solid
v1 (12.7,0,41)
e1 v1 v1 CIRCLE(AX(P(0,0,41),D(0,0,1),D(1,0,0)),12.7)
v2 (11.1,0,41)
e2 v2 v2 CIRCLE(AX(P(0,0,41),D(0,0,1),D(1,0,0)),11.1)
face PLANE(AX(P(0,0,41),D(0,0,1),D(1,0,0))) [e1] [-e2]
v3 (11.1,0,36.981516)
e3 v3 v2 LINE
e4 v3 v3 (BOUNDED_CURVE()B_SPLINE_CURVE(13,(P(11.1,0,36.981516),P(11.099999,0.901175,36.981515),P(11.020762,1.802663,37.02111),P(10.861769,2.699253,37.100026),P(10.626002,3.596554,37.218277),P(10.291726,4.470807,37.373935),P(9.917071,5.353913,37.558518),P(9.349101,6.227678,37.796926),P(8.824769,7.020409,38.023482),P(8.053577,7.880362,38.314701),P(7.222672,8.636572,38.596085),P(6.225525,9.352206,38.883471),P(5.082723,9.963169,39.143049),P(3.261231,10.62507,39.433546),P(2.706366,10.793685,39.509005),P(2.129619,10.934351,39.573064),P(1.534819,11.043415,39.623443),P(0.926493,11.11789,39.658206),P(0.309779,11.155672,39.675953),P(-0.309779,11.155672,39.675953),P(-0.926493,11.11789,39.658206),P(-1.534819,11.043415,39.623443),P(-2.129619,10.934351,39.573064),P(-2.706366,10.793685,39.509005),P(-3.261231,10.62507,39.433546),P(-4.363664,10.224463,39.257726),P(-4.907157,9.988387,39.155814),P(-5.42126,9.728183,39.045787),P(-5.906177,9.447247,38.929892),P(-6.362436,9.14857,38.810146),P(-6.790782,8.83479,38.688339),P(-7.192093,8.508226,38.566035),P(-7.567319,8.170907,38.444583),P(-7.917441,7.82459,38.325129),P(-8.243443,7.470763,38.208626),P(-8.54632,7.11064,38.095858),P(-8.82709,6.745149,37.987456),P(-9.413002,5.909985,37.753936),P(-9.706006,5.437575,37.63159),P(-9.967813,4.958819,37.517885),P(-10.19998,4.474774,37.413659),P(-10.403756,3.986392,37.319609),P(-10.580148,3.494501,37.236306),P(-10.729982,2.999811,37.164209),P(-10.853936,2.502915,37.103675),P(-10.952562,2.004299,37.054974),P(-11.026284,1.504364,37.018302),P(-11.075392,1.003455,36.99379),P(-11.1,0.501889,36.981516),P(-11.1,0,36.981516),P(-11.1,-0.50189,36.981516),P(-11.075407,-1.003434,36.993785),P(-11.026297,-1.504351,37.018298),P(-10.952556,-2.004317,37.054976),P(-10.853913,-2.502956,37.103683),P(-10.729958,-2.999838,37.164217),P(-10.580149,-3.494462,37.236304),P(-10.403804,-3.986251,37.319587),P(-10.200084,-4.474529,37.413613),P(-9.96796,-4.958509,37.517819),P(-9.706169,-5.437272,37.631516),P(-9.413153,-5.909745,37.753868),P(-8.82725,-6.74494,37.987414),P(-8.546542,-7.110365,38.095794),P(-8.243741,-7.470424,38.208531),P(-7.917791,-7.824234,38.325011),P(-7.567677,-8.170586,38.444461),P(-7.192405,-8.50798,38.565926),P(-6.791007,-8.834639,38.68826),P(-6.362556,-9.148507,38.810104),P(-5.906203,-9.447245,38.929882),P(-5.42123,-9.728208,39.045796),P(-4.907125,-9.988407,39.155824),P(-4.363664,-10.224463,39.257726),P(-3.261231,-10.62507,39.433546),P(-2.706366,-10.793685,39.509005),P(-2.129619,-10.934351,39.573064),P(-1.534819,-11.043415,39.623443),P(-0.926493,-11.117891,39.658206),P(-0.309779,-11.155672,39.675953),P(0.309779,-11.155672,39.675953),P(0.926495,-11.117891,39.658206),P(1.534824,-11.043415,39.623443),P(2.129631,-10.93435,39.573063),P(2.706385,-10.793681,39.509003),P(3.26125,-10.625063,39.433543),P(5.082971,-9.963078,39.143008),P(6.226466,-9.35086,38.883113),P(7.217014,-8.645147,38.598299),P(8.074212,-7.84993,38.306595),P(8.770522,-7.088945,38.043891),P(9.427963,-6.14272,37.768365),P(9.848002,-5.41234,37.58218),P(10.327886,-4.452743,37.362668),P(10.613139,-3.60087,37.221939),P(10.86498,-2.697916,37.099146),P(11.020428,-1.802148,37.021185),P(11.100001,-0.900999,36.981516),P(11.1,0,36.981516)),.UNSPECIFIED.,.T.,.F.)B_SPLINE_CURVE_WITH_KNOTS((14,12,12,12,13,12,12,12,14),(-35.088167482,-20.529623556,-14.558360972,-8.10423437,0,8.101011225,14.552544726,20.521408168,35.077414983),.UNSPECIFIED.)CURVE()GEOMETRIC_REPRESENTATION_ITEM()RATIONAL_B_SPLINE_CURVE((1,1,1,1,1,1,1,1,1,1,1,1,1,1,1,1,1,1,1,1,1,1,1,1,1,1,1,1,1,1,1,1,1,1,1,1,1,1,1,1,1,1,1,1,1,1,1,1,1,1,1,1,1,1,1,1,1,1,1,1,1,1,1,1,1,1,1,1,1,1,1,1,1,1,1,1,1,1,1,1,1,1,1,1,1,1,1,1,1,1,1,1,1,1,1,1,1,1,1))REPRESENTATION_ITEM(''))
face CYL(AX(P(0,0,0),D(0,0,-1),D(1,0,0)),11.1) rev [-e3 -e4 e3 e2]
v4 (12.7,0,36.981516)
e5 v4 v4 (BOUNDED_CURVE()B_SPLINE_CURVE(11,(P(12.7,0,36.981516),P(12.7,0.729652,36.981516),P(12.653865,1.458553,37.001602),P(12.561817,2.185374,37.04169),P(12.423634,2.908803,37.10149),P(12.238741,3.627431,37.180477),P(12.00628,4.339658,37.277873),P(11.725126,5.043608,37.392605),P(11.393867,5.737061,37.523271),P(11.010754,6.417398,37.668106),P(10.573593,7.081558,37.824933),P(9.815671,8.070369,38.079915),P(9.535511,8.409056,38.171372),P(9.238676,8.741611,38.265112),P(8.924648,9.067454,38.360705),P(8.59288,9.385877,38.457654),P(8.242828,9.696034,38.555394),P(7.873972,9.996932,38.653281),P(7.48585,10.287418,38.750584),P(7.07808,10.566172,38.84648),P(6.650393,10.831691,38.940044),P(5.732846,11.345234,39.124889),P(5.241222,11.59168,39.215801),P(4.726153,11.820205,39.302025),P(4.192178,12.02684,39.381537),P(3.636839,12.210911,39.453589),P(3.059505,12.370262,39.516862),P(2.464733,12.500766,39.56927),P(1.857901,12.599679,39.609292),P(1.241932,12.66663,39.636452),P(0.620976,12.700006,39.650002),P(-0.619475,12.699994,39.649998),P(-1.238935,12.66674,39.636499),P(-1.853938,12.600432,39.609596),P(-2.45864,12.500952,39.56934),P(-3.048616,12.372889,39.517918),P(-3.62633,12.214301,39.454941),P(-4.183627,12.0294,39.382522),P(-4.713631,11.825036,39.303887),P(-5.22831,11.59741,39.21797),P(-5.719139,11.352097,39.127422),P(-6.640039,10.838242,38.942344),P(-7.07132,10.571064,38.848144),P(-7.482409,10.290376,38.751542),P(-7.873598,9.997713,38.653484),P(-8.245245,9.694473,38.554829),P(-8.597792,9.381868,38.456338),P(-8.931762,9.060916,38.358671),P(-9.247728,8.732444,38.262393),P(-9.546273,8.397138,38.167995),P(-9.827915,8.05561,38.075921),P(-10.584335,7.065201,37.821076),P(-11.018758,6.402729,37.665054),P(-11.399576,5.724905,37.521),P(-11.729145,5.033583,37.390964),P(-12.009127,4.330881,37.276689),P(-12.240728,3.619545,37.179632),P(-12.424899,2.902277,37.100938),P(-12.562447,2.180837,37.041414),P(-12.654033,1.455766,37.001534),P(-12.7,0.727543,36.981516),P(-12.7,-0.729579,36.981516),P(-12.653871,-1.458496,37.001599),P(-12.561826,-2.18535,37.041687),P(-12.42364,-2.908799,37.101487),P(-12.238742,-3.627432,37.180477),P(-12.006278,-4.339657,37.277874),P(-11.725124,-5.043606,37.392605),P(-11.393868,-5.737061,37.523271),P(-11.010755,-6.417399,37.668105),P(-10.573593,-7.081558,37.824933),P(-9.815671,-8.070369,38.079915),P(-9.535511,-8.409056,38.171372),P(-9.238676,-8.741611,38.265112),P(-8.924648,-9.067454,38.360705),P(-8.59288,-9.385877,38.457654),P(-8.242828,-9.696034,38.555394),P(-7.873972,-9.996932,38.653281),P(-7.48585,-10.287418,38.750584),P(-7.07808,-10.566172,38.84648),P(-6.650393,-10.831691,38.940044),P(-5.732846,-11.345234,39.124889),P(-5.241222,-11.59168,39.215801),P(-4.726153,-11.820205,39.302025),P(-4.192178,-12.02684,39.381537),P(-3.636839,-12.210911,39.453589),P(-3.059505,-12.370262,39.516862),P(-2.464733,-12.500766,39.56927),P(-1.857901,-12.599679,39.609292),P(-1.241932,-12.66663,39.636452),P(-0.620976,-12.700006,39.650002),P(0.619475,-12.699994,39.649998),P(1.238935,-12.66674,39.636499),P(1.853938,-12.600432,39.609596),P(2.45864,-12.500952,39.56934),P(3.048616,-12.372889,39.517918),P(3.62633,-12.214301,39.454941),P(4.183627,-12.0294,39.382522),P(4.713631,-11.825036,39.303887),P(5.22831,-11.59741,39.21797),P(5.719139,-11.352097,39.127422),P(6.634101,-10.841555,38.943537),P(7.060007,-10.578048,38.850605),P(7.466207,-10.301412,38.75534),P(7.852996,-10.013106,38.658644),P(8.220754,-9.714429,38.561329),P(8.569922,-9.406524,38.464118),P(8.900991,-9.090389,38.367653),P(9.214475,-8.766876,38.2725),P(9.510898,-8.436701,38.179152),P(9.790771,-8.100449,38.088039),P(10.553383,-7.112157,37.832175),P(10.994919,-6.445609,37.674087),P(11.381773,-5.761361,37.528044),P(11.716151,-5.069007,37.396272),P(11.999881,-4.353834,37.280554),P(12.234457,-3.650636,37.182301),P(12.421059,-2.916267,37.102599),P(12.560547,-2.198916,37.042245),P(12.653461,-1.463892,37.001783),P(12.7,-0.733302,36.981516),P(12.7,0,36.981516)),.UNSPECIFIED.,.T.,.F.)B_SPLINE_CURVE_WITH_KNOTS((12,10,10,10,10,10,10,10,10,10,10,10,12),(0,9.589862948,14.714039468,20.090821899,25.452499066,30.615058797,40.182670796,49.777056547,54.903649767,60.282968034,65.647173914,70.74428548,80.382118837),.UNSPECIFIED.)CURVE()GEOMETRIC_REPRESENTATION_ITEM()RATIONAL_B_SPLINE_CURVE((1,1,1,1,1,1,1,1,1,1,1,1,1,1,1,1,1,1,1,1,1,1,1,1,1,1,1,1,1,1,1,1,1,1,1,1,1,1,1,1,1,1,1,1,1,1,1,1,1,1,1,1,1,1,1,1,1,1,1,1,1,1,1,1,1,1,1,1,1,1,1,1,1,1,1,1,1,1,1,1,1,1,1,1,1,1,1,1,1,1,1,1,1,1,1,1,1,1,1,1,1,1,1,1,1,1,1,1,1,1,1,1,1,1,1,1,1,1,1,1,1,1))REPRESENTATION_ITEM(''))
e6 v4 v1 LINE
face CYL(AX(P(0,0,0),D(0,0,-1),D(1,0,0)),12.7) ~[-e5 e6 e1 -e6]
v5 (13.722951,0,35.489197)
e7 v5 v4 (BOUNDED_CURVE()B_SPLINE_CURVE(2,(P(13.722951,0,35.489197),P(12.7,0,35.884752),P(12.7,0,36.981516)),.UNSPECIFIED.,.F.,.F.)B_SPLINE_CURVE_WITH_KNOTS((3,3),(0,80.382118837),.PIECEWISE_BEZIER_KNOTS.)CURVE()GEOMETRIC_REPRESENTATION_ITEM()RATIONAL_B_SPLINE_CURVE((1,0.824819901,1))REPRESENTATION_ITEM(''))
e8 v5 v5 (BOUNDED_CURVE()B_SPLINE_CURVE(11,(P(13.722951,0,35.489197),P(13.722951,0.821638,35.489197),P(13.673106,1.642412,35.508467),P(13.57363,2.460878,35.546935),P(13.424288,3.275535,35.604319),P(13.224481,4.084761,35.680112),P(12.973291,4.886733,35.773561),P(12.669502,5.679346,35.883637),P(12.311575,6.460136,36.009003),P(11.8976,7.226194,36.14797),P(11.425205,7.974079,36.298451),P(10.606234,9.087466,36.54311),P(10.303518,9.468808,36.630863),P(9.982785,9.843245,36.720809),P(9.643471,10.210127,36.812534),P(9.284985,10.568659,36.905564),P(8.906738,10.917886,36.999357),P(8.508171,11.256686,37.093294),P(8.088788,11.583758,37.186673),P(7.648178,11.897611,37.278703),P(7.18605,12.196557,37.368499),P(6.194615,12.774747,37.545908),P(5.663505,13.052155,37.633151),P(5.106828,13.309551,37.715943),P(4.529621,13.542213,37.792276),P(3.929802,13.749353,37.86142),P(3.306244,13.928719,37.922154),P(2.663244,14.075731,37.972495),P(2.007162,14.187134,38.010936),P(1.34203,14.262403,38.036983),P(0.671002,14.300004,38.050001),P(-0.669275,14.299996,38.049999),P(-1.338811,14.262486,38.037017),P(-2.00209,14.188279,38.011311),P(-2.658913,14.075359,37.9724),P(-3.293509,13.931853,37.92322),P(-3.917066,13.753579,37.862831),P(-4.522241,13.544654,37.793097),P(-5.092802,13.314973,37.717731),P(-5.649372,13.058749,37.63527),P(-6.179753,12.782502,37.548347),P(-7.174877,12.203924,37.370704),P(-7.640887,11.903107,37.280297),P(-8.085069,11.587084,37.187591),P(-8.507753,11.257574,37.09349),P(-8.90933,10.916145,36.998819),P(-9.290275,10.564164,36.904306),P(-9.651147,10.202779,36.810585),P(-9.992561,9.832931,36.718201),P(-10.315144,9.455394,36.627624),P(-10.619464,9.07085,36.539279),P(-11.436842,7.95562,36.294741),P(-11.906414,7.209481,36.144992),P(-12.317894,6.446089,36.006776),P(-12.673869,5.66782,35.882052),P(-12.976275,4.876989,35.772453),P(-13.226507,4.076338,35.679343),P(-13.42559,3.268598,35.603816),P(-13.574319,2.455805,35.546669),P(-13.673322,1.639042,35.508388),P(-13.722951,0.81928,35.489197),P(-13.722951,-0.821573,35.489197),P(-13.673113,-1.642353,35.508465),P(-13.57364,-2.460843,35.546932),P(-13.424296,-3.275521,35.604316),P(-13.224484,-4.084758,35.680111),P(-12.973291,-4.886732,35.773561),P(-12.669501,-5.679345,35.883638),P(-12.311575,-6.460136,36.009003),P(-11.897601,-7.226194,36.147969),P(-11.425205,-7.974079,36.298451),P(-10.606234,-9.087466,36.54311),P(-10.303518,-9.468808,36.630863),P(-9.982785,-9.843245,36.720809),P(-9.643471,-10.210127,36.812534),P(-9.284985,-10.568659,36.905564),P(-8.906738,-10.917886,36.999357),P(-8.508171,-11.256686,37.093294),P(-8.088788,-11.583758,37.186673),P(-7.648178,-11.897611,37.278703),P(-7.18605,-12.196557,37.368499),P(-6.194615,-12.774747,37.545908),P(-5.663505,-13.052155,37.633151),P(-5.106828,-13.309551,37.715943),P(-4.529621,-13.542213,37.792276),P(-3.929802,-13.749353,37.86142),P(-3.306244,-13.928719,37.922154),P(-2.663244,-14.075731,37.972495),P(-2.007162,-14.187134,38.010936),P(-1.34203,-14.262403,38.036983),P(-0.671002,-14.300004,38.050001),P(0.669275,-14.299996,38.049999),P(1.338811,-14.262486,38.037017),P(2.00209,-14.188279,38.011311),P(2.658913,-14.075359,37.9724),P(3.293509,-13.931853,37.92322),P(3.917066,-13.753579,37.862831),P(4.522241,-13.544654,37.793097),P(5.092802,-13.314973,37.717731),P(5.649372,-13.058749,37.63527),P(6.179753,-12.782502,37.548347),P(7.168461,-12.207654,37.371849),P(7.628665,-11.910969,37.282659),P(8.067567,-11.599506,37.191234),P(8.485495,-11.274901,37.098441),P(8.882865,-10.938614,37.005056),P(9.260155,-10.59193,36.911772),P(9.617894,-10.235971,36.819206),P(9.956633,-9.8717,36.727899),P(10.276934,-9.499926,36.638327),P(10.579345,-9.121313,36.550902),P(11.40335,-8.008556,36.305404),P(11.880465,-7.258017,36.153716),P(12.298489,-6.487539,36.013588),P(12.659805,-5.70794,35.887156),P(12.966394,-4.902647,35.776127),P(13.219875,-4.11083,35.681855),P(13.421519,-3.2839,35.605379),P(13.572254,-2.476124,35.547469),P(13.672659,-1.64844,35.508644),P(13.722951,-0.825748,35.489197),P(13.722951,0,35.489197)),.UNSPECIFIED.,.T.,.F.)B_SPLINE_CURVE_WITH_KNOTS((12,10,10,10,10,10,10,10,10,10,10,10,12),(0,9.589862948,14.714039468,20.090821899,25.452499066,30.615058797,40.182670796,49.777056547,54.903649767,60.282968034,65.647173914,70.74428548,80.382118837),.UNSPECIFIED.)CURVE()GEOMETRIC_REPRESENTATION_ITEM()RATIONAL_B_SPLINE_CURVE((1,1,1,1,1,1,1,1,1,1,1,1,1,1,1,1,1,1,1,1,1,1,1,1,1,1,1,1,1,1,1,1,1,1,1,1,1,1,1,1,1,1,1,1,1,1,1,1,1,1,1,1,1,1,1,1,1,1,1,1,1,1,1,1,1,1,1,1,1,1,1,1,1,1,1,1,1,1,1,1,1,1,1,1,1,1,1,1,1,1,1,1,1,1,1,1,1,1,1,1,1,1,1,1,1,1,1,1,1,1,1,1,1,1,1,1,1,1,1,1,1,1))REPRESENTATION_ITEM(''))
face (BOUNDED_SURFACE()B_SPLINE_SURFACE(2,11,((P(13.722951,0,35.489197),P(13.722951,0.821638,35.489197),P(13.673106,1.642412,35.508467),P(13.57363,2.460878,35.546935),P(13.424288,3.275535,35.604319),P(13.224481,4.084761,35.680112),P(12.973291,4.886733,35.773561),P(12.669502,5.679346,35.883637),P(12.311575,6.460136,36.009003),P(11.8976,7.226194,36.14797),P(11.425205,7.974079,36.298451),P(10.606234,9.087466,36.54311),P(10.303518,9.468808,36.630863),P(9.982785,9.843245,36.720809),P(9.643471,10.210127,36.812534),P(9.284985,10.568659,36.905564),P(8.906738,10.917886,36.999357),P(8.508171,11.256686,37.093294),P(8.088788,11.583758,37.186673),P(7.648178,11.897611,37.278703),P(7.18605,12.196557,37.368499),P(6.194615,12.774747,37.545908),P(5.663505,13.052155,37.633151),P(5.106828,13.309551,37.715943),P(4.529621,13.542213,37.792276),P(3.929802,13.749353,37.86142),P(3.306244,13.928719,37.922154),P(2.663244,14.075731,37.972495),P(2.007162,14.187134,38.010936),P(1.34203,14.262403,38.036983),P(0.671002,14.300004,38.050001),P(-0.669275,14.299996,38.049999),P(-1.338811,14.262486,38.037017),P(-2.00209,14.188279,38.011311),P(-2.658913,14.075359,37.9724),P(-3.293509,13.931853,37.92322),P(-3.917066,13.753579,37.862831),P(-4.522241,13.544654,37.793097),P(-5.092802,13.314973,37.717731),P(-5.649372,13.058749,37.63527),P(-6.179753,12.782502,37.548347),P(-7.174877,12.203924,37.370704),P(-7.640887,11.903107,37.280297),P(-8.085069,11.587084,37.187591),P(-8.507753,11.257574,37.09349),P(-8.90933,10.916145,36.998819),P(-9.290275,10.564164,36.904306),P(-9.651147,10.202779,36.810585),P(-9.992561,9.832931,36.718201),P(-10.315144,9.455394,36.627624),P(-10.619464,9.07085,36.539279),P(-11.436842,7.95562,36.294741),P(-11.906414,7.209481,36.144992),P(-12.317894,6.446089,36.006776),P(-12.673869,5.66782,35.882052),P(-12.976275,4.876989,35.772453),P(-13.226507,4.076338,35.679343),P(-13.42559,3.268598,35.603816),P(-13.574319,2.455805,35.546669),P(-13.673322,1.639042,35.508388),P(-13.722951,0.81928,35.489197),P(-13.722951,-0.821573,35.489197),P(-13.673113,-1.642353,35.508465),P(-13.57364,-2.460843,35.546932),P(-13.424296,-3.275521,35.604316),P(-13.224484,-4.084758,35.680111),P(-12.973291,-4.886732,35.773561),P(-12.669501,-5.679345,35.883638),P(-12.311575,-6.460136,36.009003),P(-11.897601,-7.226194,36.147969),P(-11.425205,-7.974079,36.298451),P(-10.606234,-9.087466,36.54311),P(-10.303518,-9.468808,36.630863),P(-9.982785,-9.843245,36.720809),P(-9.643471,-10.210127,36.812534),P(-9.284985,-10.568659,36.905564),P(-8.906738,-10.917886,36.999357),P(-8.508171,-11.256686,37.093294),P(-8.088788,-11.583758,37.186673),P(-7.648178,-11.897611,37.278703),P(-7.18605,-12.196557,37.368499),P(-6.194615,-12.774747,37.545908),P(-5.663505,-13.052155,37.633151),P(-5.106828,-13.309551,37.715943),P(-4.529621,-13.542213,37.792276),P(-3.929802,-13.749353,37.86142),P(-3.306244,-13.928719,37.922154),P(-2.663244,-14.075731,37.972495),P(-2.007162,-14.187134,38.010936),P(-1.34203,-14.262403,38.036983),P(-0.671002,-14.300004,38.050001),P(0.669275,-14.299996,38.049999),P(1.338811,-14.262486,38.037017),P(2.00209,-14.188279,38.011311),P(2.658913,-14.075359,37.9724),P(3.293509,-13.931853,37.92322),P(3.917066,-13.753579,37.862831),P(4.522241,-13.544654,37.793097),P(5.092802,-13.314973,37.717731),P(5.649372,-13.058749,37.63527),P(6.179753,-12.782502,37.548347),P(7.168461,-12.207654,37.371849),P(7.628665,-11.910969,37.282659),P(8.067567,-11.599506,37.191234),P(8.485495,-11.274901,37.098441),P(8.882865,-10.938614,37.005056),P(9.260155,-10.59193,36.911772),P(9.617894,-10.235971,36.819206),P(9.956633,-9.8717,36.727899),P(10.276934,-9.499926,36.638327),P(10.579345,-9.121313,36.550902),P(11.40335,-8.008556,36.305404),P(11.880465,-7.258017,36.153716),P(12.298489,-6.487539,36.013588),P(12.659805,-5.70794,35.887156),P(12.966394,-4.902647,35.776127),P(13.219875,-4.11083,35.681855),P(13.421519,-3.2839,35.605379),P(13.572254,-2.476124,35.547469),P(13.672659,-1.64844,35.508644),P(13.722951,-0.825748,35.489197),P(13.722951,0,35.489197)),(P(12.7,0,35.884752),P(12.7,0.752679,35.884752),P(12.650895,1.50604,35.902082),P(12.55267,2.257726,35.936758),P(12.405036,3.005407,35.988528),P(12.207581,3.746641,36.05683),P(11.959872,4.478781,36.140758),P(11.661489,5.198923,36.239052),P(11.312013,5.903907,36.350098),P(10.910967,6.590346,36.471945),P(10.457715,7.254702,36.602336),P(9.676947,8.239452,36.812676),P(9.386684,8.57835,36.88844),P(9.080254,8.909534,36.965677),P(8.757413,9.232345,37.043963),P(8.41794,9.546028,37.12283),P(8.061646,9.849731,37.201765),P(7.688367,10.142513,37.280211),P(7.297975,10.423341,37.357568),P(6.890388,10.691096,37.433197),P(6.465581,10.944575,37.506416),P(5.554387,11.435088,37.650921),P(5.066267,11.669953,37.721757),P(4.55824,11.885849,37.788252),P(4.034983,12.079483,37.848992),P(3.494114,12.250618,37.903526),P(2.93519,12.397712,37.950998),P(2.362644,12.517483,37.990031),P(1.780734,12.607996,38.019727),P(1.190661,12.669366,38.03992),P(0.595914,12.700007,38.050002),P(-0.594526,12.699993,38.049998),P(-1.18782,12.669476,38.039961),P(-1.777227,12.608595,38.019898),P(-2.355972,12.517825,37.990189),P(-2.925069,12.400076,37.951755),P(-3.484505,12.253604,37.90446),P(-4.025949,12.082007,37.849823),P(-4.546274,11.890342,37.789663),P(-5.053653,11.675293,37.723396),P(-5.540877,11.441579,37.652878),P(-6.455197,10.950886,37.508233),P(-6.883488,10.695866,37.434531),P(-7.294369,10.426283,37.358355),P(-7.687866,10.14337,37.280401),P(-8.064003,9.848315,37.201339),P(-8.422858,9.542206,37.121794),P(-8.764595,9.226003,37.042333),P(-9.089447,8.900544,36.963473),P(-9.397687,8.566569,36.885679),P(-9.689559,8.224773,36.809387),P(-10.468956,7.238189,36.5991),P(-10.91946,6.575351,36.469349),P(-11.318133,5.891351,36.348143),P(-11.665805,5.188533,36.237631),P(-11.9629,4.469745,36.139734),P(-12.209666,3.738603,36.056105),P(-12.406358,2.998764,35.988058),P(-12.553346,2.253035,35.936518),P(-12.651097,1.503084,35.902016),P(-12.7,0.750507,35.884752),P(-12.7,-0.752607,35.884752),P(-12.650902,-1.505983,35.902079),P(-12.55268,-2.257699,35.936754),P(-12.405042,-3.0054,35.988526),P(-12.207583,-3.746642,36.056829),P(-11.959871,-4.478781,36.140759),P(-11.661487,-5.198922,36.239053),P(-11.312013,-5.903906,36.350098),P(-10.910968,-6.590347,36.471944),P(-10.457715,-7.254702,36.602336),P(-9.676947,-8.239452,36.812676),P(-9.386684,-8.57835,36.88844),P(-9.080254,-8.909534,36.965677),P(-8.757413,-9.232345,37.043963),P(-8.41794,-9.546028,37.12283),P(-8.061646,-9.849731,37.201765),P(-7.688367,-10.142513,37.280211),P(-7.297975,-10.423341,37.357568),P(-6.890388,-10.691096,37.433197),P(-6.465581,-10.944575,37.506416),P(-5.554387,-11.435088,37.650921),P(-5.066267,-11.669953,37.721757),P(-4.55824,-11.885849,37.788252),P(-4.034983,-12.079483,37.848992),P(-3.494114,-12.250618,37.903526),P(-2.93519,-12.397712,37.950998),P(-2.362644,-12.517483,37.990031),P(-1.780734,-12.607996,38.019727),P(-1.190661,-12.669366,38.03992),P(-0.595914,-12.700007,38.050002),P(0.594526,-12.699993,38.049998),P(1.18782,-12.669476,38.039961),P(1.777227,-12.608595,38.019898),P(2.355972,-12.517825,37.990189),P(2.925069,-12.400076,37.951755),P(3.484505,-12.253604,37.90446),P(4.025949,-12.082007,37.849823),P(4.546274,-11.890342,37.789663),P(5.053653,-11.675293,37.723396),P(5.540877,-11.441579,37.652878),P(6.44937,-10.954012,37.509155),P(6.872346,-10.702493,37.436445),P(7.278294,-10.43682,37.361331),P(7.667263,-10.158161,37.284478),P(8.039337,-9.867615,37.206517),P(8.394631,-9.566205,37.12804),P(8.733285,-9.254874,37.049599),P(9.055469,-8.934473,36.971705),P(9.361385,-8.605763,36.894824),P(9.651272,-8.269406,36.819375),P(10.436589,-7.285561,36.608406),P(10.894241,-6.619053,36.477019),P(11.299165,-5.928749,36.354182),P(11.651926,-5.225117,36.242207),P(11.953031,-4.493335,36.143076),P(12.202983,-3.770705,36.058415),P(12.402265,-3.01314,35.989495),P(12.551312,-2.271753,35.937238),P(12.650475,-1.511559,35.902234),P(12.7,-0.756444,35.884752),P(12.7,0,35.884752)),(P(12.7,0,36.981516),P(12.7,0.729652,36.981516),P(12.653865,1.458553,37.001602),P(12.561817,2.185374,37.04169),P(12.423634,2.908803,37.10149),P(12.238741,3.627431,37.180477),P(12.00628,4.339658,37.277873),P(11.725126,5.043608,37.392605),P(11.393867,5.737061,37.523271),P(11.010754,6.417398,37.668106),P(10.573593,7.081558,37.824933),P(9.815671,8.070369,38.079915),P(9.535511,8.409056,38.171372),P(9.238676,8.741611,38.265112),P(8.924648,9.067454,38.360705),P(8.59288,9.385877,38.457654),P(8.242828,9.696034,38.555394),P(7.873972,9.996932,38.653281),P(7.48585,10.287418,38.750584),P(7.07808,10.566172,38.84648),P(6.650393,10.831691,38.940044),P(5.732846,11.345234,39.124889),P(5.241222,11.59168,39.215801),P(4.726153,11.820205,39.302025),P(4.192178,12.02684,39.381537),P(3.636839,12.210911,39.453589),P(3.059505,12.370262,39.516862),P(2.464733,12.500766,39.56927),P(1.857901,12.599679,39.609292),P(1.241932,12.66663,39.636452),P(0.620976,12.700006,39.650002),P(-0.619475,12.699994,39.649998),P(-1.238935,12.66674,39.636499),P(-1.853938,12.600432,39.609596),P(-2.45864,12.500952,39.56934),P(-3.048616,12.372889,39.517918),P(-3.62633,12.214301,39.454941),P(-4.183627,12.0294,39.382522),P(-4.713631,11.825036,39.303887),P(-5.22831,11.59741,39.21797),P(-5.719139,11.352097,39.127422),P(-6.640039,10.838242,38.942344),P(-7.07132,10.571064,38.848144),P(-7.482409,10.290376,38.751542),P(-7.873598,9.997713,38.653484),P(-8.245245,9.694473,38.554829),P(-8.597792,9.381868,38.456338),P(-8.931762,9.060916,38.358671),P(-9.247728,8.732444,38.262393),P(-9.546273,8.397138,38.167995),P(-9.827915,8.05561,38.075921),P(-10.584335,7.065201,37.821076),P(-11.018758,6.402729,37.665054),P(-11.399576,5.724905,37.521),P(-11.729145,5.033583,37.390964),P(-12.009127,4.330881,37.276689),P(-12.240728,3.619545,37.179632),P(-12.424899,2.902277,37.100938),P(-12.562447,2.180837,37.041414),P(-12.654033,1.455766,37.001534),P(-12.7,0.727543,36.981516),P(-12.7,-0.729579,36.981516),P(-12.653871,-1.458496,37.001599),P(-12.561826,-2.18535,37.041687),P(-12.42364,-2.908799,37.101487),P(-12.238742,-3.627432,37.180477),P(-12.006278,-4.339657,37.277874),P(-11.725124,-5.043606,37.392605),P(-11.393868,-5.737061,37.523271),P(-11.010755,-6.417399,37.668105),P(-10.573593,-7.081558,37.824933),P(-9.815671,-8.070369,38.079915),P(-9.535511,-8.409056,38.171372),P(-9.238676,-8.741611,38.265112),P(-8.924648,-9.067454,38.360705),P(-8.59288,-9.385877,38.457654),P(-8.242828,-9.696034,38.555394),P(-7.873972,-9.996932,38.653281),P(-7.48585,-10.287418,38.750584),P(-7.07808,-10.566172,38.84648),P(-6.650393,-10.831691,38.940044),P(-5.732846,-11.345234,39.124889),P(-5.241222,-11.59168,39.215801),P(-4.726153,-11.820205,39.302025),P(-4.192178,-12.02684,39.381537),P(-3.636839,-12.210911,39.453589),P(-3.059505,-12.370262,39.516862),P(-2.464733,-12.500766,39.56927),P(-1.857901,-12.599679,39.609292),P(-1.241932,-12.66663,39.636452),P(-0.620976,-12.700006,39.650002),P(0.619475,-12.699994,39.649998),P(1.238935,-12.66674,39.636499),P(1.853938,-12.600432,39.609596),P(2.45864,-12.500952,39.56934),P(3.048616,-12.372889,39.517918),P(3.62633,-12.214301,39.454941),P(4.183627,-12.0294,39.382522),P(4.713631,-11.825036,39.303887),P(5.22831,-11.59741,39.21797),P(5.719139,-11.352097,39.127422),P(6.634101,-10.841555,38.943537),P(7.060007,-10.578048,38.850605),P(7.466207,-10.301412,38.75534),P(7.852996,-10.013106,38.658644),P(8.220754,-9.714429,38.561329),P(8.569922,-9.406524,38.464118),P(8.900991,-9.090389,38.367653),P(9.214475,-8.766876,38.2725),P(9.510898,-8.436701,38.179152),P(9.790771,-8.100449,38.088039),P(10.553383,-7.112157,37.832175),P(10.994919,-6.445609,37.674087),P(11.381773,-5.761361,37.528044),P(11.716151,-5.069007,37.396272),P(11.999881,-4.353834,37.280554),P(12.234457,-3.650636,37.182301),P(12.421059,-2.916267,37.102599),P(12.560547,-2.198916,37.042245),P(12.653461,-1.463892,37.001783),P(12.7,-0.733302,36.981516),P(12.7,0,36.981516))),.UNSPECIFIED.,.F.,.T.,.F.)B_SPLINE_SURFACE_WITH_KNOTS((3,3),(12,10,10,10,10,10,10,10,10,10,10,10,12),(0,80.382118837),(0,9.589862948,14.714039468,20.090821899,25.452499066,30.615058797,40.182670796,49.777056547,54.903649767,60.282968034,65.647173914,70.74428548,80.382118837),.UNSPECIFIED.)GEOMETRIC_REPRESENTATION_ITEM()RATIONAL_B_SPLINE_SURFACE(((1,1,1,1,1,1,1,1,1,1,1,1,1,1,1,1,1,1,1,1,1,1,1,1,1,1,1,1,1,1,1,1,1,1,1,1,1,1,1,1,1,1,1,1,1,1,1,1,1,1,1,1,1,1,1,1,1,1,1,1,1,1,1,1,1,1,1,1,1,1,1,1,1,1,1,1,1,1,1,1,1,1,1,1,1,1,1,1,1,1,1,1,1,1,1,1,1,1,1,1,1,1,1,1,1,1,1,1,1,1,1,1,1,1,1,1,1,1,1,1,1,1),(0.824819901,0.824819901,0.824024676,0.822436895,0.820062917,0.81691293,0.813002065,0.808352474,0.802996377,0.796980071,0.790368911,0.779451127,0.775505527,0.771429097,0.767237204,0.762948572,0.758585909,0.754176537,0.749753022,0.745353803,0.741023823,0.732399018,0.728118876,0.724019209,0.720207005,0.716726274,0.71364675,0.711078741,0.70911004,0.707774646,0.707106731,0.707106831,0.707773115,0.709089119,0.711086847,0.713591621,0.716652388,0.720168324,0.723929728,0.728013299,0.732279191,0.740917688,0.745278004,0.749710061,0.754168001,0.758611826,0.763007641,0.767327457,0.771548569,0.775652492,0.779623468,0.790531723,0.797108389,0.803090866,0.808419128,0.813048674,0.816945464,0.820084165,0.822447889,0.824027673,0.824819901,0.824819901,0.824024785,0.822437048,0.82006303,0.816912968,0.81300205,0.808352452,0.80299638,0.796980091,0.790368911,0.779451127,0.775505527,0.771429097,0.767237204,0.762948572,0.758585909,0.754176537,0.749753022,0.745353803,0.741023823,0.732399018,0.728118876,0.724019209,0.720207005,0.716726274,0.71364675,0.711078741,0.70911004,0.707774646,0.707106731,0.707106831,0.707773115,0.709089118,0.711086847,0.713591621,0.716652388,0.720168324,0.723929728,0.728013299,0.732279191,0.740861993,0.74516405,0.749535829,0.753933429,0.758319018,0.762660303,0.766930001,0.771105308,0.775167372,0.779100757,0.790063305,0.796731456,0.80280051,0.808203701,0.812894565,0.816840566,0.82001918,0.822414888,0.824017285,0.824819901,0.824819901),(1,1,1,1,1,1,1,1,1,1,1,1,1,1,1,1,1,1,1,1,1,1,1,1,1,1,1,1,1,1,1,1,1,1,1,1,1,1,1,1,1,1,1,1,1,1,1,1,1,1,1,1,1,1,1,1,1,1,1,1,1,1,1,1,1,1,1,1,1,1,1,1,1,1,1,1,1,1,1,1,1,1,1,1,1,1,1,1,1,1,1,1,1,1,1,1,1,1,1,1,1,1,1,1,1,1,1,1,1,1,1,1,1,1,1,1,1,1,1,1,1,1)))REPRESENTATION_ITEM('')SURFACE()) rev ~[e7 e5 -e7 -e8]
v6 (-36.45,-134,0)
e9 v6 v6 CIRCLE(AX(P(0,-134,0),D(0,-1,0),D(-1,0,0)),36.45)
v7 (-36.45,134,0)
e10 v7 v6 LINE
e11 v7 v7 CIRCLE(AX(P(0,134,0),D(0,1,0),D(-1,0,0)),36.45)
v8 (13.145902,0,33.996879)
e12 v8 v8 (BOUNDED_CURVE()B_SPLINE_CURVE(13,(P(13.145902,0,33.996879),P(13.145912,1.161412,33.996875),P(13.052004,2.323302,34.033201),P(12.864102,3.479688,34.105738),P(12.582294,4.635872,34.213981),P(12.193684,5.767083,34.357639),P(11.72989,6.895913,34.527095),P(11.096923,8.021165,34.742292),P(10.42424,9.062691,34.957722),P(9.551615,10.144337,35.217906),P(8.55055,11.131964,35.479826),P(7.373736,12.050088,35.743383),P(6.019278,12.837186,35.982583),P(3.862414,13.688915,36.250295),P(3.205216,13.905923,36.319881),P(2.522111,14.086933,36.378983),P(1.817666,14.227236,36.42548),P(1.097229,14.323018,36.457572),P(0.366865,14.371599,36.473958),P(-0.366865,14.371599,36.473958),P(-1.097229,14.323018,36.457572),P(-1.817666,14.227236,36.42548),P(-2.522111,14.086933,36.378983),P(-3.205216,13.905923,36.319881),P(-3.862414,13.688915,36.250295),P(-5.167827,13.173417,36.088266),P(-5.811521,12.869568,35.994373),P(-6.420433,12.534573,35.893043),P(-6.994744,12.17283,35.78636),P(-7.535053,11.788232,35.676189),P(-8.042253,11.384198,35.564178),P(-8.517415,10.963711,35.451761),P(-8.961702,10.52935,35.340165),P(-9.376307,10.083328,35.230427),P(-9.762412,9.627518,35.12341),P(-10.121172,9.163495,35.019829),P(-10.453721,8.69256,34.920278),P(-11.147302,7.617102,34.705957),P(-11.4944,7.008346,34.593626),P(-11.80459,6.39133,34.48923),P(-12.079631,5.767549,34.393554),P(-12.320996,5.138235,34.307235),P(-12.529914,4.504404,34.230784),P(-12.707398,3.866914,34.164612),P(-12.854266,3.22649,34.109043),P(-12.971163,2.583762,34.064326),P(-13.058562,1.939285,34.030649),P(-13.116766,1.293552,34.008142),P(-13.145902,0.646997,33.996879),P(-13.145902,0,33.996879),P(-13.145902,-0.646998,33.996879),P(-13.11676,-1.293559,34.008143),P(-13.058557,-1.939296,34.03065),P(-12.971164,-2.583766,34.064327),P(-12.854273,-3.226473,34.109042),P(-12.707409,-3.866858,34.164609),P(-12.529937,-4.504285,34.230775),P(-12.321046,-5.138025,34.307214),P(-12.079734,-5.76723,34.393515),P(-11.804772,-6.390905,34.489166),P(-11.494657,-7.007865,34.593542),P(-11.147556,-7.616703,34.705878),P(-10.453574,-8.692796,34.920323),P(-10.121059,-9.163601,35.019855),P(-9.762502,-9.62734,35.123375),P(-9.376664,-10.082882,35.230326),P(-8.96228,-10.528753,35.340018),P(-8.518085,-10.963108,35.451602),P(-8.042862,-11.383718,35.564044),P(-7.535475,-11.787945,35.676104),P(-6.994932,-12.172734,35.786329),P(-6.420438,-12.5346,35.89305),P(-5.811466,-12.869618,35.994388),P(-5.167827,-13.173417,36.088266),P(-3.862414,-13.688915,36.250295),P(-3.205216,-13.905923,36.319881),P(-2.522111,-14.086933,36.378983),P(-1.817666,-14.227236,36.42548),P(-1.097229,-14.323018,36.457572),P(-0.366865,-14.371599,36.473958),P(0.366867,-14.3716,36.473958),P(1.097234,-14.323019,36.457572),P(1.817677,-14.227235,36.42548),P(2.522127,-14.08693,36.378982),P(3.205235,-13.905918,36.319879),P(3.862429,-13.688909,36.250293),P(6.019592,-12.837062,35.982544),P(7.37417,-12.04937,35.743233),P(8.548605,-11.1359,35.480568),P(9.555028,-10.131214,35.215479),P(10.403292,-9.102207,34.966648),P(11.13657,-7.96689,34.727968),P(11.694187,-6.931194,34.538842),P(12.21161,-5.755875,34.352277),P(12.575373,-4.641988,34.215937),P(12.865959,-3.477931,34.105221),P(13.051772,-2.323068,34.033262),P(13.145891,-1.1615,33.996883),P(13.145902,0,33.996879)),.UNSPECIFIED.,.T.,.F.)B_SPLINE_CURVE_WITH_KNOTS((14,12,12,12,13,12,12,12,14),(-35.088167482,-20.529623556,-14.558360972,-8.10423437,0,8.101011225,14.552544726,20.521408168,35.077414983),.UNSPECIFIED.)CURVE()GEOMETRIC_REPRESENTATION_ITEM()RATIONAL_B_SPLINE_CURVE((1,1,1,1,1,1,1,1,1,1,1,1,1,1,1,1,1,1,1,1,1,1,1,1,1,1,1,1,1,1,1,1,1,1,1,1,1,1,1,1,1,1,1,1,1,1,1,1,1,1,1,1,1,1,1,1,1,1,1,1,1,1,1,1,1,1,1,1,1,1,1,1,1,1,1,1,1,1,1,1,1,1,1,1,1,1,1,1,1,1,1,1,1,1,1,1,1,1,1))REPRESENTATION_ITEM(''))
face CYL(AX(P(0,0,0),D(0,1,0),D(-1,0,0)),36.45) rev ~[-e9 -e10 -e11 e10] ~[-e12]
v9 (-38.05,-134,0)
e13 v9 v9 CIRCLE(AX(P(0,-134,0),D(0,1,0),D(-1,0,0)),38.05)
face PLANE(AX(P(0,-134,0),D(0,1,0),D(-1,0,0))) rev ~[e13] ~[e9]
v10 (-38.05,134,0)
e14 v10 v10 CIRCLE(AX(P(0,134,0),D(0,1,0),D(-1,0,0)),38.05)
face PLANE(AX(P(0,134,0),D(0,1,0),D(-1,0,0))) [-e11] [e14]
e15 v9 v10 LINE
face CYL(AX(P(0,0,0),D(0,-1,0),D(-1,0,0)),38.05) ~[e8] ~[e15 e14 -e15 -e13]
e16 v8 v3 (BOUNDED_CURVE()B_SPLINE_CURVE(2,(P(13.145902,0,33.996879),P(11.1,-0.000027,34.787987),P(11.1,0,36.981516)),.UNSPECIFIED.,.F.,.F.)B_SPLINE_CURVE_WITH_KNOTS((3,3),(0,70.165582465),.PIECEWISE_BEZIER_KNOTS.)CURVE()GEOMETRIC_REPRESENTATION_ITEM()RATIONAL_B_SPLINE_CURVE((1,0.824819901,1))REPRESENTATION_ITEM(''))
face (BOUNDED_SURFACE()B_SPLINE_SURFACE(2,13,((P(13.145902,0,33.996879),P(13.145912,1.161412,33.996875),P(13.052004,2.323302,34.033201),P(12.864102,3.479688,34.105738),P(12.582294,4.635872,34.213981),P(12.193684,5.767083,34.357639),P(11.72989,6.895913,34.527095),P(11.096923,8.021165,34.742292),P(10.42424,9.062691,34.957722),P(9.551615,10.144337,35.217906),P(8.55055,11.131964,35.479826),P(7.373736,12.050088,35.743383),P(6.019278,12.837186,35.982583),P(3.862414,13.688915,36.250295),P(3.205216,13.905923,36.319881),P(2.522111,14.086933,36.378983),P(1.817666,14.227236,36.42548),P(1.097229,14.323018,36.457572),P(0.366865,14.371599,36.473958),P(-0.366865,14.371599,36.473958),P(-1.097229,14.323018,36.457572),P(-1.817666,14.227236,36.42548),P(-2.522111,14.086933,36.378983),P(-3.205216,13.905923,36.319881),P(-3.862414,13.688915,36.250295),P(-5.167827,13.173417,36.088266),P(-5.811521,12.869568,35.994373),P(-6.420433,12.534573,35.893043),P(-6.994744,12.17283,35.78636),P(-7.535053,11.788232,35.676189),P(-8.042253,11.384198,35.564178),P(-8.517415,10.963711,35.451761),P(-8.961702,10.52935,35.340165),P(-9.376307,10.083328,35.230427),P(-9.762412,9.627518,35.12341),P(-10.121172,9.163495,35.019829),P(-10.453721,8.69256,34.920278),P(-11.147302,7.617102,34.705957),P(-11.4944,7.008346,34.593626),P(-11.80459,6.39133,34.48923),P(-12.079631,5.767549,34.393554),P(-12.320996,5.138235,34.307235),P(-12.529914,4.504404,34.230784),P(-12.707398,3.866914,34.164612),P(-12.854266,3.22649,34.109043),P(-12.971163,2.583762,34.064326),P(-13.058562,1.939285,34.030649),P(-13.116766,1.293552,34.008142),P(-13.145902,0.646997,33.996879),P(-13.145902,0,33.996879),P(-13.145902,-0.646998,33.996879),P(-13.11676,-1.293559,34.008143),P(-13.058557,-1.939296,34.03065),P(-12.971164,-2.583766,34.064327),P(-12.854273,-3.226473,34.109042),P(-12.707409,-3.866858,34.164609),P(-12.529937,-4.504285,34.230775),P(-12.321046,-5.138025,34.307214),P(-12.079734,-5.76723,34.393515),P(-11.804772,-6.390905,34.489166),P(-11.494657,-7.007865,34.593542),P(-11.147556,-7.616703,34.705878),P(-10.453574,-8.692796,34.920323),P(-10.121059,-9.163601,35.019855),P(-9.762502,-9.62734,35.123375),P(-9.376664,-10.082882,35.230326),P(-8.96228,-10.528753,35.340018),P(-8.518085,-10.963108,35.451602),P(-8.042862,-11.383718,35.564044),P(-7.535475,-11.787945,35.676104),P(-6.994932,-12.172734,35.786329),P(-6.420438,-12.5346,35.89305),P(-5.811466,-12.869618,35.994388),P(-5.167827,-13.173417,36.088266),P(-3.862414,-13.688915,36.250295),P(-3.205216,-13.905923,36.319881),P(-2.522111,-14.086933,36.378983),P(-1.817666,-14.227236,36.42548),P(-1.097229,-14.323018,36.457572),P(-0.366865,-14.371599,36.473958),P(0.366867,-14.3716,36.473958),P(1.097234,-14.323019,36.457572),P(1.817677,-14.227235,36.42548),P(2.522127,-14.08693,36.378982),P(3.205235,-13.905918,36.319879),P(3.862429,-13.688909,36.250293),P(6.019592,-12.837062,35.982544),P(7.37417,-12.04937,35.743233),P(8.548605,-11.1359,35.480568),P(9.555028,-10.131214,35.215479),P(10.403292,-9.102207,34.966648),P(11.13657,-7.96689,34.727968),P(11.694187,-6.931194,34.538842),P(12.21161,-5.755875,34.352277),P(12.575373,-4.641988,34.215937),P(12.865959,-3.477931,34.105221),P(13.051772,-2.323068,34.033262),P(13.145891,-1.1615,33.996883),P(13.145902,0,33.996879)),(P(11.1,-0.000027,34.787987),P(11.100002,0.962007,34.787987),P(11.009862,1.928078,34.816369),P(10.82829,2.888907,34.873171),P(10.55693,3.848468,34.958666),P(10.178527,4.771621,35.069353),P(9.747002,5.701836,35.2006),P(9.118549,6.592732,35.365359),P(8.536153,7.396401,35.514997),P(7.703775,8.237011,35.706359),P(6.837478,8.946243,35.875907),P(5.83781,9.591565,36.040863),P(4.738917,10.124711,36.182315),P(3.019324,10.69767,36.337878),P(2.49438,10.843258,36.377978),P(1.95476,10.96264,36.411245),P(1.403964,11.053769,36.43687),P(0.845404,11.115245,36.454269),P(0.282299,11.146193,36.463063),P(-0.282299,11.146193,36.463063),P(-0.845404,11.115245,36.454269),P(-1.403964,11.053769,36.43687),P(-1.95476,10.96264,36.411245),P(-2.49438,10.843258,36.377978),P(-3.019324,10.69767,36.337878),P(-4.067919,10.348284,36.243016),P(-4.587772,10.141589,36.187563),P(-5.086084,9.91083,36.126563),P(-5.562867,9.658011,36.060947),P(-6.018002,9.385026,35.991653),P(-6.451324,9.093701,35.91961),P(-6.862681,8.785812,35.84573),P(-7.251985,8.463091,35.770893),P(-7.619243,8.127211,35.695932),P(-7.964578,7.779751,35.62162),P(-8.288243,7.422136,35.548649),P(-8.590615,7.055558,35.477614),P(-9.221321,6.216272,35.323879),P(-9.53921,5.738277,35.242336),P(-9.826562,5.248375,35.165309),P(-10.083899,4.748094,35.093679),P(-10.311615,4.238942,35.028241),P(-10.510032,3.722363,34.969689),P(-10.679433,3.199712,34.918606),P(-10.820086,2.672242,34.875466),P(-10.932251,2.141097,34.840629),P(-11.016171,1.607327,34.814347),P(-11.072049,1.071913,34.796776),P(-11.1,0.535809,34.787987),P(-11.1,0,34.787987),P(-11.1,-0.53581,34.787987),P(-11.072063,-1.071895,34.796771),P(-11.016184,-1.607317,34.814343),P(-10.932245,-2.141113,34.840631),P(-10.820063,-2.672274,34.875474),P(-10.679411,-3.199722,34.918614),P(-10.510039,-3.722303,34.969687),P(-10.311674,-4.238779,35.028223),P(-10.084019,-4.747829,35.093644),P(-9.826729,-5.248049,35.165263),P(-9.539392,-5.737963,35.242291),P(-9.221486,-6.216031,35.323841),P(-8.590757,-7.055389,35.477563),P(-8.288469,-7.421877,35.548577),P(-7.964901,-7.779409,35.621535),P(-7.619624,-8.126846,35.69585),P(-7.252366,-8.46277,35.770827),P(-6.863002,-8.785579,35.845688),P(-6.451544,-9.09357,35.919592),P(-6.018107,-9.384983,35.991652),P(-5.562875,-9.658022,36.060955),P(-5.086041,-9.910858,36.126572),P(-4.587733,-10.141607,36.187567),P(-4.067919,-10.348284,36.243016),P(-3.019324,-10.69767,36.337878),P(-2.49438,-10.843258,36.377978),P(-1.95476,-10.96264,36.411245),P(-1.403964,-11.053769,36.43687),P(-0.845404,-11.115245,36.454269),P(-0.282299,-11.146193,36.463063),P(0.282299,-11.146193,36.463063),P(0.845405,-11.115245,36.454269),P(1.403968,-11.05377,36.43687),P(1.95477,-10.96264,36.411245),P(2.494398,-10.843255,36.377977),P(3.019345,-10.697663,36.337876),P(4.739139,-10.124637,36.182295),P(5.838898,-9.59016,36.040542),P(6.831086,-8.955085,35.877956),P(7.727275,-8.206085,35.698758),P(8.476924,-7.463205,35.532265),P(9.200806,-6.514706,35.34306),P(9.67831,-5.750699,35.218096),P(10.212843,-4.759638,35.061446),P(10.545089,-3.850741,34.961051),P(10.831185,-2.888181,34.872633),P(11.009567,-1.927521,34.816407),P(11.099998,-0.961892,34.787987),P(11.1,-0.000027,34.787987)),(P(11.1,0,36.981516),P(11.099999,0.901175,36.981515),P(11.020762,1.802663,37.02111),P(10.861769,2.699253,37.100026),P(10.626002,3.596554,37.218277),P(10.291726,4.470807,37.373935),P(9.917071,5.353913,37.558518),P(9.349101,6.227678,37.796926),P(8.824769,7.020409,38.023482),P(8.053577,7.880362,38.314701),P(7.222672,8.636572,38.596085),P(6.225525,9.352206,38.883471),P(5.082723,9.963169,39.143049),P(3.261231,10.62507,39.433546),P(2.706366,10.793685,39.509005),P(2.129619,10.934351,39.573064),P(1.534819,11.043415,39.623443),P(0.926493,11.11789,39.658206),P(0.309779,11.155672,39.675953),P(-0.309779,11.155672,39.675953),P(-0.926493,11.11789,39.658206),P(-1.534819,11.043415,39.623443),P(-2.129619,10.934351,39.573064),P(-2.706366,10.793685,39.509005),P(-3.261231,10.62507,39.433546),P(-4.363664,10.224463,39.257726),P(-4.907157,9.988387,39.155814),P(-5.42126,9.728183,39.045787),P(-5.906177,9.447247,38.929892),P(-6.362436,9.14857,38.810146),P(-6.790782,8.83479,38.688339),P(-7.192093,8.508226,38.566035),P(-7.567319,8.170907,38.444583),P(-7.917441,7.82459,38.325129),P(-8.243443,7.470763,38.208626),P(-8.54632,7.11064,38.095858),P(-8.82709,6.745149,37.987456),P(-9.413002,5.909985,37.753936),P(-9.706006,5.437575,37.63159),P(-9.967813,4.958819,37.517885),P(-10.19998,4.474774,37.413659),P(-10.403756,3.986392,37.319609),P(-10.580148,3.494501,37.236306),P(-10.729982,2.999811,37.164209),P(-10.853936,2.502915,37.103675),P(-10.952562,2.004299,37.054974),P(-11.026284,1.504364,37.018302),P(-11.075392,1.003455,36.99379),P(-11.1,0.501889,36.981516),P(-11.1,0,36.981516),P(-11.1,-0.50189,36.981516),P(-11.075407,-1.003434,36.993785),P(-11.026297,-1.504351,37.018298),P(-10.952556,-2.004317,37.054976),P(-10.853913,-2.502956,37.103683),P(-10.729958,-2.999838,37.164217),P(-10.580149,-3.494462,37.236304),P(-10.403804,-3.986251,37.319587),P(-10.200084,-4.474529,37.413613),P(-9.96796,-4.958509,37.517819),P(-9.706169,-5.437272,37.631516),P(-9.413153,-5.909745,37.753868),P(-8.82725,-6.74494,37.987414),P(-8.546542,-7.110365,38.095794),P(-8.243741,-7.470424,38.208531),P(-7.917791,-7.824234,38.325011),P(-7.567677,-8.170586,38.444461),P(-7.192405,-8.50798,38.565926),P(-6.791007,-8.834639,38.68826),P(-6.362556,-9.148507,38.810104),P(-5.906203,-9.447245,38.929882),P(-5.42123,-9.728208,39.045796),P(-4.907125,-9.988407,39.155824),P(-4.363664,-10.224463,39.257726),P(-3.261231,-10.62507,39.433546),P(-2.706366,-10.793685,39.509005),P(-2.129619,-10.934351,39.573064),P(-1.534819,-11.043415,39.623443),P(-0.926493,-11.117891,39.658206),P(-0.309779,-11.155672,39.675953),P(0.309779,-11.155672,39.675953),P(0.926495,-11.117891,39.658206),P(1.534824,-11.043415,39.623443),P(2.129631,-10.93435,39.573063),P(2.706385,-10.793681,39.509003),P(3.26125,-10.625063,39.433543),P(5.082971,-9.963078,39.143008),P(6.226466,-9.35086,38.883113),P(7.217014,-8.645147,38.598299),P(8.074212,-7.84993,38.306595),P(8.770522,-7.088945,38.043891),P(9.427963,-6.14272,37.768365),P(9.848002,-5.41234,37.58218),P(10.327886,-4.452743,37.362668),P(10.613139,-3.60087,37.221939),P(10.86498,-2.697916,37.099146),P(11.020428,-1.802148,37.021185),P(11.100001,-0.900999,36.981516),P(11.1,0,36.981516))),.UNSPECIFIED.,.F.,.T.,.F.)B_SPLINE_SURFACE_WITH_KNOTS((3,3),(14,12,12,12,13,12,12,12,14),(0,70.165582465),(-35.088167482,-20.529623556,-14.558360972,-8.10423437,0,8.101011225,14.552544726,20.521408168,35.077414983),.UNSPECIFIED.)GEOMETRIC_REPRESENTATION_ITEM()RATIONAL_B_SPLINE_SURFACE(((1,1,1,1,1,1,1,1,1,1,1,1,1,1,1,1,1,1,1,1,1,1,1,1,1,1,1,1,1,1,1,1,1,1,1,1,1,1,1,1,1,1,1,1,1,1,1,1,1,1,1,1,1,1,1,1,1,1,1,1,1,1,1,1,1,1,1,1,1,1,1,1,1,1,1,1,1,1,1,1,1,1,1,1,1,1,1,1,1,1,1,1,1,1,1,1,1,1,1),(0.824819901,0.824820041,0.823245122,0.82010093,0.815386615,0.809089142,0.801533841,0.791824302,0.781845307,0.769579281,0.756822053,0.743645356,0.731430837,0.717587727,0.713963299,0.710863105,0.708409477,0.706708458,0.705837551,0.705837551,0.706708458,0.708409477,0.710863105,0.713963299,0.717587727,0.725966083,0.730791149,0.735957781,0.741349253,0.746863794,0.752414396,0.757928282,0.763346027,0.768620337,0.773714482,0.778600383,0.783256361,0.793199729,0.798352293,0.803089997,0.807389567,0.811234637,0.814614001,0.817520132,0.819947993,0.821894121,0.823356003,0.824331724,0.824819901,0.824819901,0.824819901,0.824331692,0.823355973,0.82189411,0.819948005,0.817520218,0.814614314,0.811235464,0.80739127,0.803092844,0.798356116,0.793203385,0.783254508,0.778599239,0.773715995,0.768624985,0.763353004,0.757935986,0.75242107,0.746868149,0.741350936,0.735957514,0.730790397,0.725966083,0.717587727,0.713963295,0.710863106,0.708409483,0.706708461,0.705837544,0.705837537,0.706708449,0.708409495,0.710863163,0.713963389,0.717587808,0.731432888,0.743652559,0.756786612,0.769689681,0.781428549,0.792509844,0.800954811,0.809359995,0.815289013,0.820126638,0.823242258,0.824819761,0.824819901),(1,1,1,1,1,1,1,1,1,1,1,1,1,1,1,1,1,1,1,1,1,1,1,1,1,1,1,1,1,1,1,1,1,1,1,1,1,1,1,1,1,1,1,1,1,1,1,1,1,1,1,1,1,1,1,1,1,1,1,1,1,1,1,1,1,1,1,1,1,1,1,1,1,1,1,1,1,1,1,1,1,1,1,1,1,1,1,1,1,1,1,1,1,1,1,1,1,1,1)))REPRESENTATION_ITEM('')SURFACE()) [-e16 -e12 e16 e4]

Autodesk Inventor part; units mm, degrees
ref_plane "YZ Plane" through (0, 0, 0) normal (1, 0, 0) x (0, 1, 0)
ref_plane "XZ Plane" through (0, 0, 0) normal (0, 1, 0) x (-1, 0, 0)
ref_plane "XY Plane" through (0, 0, 0) normal (0, 0, 1) x (1, 0, 0)
sketch "Szkic8" plane through (0, 0, 0) normal (0, 1, 0) x (-1, 0, 0)
  circle A0 centre (0, 0) radius 38.05
  circle A1 centre (0, 0) radius 36.45
  dimension "d53" = 76.1
  dimension "d54" = 1.6
extrude "Wyciągnięcie proste2" add sketch "Szkic8" along normal mid plane 268
sketch "Szkic13" plane through (0, 0, 0) normal (0, 0, 1) x (1, 0, 0)
  circle A0 centre (0, 0) radius 12.7
  circle A1 centre (0, 0) radius 11.1
  dimension "d67" = 25.4
  dimension "d68" = 1.6
extrude "Wyciągnięcie proste6" add sketch "Szkic13" along normal blind 41
sketch "Szkic14" plane through (0, 0, 41) normal (0, 0, 1) x (1, 0, 0)
  circle A0 centre (0, 0) radius 11.1 projected
extrude "Wyciągnięcie proste7" cut sketch "Szkic14" against normal blind 41
sketch "Szkic15" plane through (0, -134, 0) normal (0, -1, 0) x (1, 0, 0)
  circle A0 centre (0, 0) radius 36.45 projected
extrude "Wyciągnięcie proste8" cut sketch "Szkic15" against normal blind 268
fillet "Zaokrąglenie3" radius 1.6 2 edges at (-0.0006, 12.7, 38.05) (-0.0007, -12.7, 38.05)
fillet "Zaokrąglenie4" radius 3.2 2 edges at (0.0022, -11.1, 36.45) (0, 11.1, 36.45)
equation "\"d53\" = OD"
equation "\"d54\" = THK"
equation "\"d55\" = L1"
equation "\"d67\" = OD2"
equation "\"d68\" = THK"
equation "\"d69\" = L2"
equation "\"d71\" = L2"
equation "\"d73\" = L1"
equation "\"d75\" = THK"
equation "\"d76\" = 2 * THK"
equation "\"SzerokośćGięciaPodcięcia\" = Grubość"
equation "\"RozmiarPodcięciaNarożnika\" = 4 * Grubość"
equation "\"PromieńPrzejścia\" = PromieńGięcia"
equation "\"Rozmiar_promienia_Jacobiego\" = PromieńGięcia"
equation "\"Wielk_odstępu\" = Grubość"
equation "\"d2\" = PromieńGięcia"
equation "\"d23\" = PromieńGięcia"
equation "\"OD\" = 76.1"
equation "\"THK\" = 1.6"
equation "\"L1\" = 268"
equation "\"L2\" = 41"
equation "\"OD2\" = 25.4"
equation "\"Grubość\" = 1.5"
equation "\"PromieńGięcia\" = 3"
properties part number "Trójnik red. krótki  Ø76,1 25,4 76,1 s=1,6 L=268" material "304"
